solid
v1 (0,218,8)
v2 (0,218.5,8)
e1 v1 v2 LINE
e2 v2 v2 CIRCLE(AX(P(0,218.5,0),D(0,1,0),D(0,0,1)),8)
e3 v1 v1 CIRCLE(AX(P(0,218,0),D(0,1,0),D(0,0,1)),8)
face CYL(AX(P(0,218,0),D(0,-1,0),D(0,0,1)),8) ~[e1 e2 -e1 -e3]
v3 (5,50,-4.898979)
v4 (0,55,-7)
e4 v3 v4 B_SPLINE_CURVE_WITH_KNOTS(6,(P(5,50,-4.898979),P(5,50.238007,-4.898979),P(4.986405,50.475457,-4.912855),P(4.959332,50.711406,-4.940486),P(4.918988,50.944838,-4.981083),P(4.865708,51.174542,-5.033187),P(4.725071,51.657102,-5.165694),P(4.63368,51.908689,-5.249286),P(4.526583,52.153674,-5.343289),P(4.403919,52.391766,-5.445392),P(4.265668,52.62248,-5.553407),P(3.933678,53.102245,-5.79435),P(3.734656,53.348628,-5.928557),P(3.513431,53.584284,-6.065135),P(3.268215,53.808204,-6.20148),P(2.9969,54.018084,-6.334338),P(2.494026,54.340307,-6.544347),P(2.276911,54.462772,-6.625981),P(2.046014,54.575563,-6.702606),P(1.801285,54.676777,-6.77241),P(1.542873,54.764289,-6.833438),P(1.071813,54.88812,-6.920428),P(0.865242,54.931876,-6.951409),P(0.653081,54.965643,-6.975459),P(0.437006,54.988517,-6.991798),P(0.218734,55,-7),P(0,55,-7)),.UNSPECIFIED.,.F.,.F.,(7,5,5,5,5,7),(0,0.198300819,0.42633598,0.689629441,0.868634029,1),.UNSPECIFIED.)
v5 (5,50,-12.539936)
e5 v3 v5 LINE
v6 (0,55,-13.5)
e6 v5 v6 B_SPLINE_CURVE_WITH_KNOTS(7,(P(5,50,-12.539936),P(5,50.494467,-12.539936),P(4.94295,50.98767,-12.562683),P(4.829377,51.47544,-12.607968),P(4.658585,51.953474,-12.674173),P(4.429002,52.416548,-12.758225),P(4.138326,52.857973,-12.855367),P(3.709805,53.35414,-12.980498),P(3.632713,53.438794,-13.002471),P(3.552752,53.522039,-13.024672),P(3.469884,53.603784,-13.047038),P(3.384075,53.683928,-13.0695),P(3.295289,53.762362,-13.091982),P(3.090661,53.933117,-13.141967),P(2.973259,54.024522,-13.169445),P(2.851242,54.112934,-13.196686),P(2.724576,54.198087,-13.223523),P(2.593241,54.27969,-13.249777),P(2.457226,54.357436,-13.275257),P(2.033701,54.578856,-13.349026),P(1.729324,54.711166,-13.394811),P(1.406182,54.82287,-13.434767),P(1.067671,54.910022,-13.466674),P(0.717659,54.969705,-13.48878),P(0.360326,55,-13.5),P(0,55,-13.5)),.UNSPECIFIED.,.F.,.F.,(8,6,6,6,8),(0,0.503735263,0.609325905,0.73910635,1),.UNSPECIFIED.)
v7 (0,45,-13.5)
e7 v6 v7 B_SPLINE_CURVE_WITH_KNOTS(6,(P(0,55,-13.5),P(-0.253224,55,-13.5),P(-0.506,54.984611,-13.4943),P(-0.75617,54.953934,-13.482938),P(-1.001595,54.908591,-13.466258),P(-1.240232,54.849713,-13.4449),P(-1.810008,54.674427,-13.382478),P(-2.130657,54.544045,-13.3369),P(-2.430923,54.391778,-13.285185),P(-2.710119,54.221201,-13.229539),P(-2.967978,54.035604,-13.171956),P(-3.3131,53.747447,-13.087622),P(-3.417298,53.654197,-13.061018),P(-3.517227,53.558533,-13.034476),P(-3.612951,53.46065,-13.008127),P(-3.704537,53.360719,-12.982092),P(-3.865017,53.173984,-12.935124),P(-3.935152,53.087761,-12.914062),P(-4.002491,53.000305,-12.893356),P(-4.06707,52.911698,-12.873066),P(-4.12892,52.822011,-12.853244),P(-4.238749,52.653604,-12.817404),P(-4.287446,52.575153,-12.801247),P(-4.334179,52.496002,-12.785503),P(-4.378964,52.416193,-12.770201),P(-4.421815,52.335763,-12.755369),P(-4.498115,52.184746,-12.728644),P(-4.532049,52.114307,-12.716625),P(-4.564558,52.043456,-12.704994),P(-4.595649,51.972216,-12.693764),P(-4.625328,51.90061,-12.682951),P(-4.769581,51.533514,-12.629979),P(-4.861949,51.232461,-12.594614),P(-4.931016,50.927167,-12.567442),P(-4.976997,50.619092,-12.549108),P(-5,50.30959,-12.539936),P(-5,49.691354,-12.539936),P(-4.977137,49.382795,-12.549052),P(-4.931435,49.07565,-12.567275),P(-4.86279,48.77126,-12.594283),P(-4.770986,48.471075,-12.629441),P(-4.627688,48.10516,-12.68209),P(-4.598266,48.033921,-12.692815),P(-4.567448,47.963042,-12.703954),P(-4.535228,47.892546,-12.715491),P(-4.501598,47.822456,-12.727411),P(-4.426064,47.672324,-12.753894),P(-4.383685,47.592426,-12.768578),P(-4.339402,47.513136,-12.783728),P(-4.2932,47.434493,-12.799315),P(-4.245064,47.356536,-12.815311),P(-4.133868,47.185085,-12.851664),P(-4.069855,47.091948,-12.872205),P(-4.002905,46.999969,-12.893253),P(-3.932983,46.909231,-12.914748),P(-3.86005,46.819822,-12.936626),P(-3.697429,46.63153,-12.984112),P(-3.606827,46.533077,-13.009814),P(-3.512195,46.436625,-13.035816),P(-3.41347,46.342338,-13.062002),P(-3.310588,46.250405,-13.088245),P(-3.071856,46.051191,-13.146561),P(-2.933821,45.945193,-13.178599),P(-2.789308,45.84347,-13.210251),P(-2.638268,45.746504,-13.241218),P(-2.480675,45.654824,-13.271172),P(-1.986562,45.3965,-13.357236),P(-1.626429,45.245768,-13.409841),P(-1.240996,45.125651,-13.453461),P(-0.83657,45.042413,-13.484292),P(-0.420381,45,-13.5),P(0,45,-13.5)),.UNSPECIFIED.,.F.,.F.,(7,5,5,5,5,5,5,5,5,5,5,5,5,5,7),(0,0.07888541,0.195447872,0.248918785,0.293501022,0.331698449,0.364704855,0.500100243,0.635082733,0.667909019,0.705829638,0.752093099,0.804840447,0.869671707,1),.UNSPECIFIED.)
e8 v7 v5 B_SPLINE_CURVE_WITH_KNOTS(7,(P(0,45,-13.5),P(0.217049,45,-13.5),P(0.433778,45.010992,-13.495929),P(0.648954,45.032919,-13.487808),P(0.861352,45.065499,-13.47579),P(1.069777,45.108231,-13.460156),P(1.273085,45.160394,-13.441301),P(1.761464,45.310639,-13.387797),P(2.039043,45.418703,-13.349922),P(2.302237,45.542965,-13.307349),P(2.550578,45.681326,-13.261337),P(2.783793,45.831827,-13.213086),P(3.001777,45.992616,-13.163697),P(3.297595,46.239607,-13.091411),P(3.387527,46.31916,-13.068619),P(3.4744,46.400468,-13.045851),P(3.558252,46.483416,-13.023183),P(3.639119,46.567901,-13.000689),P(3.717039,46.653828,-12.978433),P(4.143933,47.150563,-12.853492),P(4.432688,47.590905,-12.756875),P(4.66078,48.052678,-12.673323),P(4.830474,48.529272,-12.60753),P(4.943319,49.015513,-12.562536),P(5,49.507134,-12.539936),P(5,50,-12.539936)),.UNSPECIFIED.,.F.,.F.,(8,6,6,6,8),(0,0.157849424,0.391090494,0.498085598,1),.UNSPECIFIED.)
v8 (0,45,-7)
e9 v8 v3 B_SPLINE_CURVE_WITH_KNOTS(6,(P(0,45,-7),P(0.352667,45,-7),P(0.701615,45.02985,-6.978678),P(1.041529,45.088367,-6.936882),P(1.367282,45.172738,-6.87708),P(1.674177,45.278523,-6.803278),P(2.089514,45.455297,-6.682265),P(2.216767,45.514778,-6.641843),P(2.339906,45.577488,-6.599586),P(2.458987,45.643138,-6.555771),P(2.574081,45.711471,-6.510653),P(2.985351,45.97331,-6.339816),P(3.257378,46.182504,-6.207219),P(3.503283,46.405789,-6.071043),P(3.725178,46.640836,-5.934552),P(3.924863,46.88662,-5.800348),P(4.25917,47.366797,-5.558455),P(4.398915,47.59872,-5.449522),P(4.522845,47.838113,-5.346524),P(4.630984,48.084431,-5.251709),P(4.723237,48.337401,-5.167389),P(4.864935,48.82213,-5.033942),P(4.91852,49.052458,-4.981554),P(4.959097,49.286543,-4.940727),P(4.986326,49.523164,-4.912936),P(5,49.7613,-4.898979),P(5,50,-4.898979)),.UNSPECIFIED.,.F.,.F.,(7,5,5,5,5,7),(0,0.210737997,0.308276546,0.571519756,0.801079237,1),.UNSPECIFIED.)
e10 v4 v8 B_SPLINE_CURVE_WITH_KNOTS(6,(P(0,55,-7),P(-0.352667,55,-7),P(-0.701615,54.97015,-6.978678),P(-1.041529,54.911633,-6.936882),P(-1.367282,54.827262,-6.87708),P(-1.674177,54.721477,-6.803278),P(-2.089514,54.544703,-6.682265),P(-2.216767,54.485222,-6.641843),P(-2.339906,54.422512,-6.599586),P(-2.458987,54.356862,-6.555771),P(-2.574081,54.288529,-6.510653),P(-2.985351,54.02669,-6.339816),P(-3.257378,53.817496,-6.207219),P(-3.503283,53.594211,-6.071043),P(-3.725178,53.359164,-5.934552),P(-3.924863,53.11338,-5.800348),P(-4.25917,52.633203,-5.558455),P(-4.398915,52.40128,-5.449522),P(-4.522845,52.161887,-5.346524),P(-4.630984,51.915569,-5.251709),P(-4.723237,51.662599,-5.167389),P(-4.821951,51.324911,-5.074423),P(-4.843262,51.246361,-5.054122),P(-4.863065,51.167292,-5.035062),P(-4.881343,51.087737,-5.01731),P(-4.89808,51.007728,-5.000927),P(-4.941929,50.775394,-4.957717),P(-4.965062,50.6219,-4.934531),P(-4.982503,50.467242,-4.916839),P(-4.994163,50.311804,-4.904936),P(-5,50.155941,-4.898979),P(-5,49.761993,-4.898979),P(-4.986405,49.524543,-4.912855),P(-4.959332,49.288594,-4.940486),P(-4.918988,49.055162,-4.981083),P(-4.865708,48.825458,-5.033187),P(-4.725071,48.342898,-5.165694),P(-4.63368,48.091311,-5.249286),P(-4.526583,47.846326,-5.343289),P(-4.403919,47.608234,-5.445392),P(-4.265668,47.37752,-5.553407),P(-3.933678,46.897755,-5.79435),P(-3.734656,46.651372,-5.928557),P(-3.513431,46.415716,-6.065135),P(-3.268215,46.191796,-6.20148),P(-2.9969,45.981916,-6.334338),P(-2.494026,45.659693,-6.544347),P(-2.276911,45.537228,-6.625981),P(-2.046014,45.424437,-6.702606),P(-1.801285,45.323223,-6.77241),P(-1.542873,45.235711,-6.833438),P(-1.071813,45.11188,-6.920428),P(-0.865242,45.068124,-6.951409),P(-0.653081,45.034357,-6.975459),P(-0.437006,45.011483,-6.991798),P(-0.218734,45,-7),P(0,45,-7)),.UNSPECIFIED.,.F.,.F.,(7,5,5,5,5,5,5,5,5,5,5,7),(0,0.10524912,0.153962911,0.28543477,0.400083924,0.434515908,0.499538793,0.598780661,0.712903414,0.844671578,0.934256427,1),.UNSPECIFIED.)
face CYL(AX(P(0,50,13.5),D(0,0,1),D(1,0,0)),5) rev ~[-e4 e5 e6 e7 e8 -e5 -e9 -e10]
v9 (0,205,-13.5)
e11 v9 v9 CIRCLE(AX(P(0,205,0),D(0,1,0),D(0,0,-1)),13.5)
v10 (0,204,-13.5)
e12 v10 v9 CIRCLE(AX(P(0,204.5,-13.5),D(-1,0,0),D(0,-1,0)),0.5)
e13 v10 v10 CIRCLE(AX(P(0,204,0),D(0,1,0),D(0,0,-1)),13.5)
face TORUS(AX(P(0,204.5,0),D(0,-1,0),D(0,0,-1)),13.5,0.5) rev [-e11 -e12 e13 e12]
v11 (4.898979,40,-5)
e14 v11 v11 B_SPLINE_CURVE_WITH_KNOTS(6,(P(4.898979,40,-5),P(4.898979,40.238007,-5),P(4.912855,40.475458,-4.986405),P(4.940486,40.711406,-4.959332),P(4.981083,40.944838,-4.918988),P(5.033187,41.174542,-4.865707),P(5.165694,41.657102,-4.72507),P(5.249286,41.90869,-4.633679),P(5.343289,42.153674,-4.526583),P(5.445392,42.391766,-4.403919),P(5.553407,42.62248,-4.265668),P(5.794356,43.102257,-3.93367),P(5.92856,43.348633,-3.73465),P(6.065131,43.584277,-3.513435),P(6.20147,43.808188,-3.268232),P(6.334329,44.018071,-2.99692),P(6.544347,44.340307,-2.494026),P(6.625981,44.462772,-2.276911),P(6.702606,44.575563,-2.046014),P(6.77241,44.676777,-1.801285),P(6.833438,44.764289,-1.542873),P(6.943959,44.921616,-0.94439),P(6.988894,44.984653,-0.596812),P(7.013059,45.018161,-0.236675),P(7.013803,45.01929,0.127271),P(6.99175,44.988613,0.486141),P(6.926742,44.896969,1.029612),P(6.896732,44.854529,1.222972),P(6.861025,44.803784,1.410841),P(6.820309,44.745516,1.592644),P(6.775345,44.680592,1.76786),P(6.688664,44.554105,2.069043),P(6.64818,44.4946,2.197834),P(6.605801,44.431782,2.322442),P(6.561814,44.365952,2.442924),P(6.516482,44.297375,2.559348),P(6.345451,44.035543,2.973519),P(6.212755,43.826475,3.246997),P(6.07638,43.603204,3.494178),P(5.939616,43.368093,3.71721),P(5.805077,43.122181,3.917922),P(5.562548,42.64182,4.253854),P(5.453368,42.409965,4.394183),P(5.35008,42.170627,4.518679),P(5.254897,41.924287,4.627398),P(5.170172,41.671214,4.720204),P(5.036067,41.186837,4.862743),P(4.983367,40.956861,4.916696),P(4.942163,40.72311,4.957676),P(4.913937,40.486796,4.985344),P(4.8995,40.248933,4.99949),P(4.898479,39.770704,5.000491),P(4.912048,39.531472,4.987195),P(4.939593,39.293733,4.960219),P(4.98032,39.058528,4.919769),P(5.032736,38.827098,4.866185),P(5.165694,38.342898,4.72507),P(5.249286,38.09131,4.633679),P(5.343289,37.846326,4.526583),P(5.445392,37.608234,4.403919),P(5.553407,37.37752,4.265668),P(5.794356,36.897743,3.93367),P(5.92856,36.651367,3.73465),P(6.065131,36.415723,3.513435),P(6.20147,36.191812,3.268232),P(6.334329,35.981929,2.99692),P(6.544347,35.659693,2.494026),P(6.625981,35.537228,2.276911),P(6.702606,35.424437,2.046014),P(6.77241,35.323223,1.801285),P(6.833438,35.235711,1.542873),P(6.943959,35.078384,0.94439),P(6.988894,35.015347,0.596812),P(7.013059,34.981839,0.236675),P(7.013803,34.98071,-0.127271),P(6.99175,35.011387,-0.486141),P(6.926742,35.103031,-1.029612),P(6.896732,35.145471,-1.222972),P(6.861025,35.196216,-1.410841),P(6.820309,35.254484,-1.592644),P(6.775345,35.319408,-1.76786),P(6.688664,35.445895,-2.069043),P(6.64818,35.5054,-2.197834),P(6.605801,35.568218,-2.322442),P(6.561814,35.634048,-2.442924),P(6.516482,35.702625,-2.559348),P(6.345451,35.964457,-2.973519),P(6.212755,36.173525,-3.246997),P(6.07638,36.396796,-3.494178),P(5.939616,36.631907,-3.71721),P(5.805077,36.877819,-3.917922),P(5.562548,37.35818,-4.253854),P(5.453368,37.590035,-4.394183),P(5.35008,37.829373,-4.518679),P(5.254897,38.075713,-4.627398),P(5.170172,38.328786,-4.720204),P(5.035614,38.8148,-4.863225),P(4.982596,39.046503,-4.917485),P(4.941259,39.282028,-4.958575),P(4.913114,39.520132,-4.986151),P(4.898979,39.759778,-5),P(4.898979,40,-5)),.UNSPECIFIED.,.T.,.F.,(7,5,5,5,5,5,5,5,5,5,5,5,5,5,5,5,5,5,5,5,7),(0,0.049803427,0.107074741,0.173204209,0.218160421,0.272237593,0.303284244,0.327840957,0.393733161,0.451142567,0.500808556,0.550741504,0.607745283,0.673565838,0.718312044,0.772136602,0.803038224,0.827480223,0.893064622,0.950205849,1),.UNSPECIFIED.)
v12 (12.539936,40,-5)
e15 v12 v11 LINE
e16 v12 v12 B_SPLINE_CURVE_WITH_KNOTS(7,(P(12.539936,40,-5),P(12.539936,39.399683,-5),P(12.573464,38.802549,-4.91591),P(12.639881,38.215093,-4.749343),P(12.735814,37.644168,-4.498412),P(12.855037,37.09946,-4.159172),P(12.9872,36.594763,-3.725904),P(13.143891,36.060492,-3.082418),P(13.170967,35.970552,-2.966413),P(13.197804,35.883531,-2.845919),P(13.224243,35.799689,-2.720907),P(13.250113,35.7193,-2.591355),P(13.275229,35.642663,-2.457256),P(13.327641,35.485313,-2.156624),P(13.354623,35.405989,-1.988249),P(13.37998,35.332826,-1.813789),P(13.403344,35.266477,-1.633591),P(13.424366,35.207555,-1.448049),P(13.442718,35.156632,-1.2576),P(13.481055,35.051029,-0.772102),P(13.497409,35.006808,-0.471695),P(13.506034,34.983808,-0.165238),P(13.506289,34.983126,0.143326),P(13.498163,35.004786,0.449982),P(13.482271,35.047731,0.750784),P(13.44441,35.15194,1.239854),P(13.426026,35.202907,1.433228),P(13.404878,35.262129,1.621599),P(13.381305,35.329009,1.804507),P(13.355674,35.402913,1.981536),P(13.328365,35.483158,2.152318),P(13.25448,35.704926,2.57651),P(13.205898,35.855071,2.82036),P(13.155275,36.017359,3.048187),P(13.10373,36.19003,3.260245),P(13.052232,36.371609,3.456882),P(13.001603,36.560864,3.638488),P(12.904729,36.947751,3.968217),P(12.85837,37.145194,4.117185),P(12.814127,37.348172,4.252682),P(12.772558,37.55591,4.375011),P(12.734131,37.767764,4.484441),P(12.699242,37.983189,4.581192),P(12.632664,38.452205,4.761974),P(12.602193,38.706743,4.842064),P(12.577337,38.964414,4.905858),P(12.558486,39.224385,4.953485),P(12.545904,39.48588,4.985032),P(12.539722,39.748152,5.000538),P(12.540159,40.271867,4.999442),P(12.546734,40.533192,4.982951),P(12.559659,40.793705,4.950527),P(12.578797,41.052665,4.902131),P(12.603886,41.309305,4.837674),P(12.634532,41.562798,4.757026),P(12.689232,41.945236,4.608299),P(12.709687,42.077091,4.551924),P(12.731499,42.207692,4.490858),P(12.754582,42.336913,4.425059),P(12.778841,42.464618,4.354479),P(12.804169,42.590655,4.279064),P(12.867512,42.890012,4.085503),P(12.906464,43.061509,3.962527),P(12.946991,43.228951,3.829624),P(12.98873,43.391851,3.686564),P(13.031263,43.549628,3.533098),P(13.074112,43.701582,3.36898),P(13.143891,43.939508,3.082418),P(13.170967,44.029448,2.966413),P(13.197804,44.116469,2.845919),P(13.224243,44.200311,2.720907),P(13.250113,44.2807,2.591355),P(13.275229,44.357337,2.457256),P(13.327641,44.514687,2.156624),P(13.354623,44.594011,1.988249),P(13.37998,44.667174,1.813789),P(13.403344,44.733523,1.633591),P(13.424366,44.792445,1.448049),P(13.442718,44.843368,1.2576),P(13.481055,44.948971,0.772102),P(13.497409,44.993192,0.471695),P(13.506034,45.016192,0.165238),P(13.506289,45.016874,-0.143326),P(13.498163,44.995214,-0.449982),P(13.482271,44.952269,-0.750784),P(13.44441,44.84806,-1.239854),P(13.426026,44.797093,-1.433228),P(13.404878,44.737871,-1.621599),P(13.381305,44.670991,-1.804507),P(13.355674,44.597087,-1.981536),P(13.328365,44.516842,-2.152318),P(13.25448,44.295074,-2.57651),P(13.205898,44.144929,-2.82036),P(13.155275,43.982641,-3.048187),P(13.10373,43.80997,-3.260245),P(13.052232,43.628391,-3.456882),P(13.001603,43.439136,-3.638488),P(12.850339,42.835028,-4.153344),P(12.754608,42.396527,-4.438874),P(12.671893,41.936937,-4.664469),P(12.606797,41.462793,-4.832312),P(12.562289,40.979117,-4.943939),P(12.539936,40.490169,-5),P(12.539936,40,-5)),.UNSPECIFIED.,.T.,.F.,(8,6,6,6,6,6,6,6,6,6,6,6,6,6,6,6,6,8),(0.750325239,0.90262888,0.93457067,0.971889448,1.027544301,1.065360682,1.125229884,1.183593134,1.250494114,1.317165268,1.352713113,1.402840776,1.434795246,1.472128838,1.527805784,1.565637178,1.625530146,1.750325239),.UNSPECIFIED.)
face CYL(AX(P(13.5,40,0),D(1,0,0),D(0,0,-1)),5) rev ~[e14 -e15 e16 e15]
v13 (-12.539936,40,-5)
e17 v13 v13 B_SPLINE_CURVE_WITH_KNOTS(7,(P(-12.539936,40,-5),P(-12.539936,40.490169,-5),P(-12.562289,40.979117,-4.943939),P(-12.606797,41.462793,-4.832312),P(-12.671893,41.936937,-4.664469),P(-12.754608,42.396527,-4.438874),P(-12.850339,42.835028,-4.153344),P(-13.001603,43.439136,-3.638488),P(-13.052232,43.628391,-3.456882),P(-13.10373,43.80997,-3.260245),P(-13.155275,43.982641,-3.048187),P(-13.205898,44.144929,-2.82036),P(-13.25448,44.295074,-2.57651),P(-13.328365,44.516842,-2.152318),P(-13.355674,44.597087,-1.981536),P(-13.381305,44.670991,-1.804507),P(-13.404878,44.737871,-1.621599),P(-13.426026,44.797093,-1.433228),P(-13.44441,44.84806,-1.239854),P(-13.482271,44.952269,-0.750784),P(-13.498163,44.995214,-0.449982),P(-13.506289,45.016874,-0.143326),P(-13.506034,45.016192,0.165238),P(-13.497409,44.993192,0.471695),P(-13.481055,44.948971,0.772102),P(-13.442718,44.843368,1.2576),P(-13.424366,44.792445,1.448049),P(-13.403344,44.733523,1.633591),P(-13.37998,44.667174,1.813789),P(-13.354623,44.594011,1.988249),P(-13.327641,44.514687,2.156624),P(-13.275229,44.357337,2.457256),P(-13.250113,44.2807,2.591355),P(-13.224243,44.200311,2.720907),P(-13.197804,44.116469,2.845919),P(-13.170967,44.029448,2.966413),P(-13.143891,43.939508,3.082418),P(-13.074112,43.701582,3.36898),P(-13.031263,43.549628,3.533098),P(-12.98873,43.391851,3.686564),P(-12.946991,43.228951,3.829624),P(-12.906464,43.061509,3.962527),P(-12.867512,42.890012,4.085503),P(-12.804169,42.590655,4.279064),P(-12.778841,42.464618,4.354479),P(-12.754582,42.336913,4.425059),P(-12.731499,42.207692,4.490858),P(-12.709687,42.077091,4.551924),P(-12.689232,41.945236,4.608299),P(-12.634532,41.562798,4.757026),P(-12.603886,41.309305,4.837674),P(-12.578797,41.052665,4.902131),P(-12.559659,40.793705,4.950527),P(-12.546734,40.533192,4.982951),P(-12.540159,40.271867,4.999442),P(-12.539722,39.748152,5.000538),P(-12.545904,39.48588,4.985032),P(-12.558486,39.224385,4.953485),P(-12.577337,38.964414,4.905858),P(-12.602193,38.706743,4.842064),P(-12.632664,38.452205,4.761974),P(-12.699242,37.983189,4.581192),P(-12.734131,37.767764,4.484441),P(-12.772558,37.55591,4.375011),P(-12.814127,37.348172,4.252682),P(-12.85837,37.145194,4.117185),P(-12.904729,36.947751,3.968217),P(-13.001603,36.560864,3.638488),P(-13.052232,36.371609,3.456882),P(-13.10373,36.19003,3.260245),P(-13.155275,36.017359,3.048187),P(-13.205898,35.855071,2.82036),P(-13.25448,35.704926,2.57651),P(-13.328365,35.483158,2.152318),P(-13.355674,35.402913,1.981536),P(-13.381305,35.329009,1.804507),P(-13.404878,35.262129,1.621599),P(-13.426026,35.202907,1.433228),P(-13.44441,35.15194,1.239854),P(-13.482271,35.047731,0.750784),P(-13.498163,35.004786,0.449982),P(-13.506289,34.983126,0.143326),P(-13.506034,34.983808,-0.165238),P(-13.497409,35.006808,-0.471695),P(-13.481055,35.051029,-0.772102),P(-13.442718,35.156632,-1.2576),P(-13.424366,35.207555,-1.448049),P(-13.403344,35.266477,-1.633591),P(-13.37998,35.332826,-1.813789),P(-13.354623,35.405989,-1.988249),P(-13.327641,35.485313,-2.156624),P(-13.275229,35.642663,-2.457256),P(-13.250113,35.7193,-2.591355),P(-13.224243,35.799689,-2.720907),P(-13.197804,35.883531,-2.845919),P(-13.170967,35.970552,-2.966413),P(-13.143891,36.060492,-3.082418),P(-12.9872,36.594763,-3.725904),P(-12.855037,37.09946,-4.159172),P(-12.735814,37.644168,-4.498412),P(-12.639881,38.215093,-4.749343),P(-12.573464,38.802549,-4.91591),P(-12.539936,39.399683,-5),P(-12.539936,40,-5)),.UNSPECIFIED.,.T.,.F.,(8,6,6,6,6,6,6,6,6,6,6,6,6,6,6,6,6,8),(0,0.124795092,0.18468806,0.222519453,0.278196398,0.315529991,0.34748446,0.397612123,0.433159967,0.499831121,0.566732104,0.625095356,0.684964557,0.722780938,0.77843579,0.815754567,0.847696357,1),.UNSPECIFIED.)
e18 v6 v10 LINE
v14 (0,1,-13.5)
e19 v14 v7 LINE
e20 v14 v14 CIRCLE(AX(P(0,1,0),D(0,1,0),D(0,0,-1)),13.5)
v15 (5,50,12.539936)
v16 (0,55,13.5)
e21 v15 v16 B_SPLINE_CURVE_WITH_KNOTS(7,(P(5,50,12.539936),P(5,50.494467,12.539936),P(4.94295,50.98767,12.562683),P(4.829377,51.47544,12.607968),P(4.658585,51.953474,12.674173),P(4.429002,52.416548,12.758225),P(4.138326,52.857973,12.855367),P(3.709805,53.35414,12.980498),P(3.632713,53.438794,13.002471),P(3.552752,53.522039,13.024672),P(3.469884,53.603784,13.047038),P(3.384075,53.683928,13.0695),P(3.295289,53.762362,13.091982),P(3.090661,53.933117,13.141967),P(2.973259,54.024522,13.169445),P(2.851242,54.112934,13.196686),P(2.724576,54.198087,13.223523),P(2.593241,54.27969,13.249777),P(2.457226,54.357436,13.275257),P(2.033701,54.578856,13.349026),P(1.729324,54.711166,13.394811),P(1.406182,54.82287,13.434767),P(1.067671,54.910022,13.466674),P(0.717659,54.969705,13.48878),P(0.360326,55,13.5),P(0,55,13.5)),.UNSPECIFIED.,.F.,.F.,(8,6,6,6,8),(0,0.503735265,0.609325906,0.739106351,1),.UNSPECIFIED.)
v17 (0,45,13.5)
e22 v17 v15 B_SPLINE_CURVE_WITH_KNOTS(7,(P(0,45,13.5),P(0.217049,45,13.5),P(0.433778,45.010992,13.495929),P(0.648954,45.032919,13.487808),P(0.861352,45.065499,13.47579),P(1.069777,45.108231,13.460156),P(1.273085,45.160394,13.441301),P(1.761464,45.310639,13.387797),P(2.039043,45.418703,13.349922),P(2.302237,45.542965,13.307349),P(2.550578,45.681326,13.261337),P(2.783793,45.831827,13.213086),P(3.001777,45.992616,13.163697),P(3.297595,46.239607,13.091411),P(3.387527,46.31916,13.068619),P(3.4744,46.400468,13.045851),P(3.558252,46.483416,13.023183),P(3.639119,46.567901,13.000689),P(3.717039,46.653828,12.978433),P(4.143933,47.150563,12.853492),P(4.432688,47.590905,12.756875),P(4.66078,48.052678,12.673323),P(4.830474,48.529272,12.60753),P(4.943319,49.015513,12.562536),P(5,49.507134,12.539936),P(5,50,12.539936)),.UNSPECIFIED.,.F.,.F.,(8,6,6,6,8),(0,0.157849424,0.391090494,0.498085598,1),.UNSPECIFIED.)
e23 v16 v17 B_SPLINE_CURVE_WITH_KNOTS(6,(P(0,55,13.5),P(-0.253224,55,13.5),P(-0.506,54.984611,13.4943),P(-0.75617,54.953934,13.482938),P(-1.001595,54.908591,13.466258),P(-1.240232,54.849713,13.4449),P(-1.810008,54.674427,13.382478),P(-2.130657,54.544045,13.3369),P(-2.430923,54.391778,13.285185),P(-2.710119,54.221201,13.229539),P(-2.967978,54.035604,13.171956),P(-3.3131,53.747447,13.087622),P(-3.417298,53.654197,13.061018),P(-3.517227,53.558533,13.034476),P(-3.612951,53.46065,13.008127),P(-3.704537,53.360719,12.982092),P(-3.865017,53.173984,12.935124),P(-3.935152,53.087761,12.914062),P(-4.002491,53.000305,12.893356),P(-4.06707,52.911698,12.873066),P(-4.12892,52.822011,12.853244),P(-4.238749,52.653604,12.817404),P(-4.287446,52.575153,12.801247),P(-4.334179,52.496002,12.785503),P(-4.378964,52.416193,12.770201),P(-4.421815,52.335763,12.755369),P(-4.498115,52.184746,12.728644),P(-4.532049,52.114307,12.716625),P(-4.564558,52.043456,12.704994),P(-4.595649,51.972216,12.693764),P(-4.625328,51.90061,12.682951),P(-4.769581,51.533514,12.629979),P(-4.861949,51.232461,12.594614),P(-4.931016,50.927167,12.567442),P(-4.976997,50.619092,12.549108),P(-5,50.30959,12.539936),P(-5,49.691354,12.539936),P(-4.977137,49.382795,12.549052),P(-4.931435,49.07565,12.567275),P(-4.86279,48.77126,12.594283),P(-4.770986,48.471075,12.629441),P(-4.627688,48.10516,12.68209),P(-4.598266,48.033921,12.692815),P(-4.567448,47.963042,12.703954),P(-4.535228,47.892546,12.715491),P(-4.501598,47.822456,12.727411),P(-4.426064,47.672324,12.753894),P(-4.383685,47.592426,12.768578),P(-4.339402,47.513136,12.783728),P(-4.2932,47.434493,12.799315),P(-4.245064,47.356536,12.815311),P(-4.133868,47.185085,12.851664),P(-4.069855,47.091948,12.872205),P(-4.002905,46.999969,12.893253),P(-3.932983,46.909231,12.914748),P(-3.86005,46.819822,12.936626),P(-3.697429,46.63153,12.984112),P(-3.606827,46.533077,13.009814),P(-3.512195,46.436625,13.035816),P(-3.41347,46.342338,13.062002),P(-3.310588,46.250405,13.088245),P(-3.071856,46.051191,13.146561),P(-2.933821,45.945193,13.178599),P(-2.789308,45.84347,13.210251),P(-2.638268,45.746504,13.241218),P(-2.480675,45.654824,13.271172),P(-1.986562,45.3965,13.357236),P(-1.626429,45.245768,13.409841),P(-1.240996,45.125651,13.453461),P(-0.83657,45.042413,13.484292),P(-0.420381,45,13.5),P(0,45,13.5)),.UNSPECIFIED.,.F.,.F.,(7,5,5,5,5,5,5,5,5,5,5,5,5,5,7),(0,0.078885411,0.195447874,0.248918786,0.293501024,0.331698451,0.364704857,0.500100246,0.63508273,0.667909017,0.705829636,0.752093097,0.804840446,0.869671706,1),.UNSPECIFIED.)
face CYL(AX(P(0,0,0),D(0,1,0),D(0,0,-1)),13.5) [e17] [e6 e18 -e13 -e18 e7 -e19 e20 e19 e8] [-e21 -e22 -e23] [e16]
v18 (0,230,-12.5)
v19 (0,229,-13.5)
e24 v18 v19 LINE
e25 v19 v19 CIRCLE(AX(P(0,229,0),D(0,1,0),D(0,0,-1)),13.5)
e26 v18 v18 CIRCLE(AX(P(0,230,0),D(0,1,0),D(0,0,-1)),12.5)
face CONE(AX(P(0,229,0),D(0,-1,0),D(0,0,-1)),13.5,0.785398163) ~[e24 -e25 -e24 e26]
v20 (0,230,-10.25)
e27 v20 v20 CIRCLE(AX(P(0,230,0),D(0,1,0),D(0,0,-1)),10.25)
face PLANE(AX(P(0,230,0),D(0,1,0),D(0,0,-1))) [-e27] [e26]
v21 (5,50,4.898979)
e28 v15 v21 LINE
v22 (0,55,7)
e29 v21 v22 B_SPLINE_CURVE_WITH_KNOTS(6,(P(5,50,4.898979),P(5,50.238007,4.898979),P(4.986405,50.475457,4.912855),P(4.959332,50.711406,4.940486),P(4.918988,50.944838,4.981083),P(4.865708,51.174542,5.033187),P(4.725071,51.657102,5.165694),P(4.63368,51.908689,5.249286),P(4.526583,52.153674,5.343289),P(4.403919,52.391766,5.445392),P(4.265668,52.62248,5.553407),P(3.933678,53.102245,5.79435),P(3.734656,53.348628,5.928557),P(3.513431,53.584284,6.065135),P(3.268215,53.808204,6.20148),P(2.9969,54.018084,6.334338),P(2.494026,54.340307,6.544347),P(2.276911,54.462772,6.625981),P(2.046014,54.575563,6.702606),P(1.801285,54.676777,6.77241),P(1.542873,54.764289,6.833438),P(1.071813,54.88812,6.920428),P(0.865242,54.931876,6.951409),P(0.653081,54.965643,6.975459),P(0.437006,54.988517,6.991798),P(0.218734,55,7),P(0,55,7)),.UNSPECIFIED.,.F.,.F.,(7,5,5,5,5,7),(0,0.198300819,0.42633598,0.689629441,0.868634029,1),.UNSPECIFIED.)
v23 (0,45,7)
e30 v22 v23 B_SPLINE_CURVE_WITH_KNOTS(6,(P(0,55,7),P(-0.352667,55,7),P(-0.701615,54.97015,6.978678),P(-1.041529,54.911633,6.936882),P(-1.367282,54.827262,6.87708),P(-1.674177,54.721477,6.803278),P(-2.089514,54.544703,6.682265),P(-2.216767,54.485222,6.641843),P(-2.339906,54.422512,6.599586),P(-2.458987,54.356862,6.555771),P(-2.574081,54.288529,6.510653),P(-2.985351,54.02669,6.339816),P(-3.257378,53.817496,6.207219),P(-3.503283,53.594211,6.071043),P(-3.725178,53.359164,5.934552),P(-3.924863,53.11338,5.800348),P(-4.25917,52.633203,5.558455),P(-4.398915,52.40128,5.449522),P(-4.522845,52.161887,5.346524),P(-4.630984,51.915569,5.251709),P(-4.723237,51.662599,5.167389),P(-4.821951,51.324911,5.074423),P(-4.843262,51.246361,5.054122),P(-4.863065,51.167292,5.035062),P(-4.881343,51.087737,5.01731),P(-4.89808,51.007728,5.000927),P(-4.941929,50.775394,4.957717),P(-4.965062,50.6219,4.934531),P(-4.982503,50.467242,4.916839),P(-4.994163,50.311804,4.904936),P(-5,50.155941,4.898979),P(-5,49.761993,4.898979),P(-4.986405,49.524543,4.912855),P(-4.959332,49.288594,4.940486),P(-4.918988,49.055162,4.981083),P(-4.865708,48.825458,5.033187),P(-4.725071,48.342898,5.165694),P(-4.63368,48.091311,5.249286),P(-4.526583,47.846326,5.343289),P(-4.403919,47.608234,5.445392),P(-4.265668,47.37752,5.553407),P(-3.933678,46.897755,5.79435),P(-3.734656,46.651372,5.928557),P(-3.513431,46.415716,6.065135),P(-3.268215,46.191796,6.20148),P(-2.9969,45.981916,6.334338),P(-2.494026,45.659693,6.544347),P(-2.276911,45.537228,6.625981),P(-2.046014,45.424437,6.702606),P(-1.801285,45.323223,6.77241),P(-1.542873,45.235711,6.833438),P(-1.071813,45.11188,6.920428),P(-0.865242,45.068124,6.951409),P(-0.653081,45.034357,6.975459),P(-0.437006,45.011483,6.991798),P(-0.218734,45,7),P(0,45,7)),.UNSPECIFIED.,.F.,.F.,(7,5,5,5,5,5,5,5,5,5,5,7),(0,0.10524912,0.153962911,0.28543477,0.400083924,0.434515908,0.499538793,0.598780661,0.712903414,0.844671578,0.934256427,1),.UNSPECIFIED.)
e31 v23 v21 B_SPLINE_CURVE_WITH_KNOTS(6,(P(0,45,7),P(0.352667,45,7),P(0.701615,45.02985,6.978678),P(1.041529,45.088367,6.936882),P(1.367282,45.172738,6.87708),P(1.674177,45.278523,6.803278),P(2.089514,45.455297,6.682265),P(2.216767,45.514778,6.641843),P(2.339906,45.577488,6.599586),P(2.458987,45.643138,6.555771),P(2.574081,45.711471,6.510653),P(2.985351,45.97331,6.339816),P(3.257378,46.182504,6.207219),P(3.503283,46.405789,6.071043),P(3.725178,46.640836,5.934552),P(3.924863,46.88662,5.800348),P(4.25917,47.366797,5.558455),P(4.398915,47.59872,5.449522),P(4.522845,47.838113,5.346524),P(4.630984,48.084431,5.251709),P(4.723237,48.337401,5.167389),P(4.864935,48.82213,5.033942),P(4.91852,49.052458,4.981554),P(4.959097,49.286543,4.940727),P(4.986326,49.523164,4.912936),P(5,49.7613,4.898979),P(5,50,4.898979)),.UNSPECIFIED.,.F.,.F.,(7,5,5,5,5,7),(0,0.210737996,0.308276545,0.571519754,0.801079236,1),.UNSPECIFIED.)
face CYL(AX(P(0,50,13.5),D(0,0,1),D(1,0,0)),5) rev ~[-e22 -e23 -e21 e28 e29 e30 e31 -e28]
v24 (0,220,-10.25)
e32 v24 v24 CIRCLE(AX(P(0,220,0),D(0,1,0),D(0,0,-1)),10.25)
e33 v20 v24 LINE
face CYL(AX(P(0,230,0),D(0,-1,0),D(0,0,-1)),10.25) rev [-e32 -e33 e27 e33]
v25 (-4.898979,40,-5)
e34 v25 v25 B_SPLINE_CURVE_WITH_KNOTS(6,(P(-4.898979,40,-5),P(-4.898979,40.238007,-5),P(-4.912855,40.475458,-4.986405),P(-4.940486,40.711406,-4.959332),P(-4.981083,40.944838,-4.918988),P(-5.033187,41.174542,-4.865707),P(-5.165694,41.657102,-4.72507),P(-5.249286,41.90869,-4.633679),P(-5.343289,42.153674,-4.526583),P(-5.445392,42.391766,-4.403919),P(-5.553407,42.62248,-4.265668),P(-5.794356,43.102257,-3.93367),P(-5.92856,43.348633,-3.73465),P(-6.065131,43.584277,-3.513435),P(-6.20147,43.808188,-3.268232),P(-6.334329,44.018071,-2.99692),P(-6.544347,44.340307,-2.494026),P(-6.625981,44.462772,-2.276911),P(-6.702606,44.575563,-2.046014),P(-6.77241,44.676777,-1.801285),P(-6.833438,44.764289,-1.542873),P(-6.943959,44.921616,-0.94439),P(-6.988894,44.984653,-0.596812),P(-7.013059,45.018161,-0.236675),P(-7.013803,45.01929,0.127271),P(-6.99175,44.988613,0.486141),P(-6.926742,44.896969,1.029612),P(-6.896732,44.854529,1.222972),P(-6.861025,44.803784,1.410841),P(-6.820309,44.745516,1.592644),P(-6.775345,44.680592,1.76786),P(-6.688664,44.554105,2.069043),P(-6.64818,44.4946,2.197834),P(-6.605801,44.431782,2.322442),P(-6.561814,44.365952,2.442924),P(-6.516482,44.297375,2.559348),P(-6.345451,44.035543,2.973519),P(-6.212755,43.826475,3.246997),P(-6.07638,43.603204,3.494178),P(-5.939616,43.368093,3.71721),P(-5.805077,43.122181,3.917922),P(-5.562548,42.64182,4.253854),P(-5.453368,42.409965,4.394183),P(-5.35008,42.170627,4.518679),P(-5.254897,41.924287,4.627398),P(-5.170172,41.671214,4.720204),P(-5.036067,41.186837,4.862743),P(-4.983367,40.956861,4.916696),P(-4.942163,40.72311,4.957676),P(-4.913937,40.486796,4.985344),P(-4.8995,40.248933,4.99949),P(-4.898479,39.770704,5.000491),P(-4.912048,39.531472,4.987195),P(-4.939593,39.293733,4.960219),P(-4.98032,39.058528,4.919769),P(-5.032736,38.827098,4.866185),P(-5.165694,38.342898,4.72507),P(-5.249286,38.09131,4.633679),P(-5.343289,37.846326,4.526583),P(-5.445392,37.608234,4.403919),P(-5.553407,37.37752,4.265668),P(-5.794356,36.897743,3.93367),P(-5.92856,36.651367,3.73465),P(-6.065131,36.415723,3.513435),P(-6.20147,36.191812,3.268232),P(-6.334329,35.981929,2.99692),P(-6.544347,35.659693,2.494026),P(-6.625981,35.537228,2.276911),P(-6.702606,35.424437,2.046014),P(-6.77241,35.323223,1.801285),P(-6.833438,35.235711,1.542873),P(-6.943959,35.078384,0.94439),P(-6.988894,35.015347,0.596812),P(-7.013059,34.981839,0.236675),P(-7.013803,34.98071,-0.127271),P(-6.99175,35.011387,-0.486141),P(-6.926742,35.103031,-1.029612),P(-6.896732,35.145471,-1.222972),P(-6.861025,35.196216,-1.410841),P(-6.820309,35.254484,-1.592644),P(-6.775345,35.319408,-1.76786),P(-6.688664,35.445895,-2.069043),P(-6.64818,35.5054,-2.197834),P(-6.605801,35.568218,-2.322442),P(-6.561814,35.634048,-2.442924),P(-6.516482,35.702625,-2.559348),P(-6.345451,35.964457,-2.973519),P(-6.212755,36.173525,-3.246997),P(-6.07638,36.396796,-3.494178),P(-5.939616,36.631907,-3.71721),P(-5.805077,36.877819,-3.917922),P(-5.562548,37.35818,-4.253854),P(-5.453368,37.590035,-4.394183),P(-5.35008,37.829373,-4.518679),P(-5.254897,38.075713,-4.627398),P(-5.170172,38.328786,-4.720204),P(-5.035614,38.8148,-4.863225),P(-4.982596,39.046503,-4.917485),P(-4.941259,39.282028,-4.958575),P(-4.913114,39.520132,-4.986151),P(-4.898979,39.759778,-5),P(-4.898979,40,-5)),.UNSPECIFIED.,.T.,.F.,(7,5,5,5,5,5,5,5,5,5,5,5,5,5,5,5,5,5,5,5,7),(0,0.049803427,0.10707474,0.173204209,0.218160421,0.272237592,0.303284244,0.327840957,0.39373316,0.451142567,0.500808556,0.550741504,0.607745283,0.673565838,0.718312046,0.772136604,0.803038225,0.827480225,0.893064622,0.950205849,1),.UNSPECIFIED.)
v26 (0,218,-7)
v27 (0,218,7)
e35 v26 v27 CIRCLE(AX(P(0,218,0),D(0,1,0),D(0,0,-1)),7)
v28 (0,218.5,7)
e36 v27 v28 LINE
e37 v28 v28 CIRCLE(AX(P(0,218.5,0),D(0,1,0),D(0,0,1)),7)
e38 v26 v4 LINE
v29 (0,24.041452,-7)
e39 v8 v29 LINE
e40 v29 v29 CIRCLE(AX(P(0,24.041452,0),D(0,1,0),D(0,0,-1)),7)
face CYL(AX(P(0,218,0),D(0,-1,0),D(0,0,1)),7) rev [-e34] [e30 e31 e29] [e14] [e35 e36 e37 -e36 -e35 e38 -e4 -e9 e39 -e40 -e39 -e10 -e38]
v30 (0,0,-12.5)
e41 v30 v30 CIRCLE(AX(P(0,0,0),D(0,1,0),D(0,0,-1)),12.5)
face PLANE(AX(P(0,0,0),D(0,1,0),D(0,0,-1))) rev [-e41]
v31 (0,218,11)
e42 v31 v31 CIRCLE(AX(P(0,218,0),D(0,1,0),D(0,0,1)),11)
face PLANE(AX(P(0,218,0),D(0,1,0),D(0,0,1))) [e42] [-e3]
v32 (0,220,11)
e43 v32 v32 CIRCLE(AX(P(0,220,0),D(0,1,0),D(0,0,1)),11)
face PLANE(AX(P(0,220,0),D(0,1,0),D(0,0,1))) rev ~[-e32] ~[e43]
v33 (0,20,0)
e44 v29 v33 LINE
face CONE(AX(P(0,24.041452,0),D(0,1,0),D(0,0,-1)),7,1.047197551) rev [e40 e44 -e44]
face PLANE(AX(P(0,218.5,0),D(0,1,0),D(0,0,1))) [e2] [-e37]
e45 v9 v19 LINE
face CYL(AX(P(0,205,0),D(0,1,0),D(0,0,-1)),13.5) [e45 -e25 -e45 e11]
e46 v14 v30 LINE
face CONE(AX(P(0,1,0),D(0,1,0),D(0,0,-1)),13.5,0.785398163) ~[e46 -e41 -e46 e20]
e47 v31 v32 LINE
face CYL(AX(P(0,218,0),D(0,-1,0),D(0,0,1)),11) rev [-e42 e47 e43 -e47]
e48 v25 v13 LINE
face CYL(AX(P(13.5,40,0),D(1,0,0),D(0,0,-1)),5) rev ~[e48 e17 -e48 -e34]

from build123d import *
from build123d.topology import SkipClean

# Parameters (mm, degrees)
SKETCH_5_R          = 8
SKETCH_5_R_2        = 7
EXTRUDE_1_DEPTH     = 0.5
CHAMFER_2_SIZE      = 1
SKETCH_6_R          = 11
SKETCH_6_R_2        = 10.25
CUT_EXTRUDE_2_DEPTH = 2
CHAMFER_3_SIZE      = 1
SKETCH_9_R          = 5
CUT_EXTRUDE_3_DEPTH = 232.972519924
SKETCH_10_R         = 5
CUT_EXTRUDE_4_DEPTH = 232.972519942


with BuildPart() as part:
    # Эскиз1 → Повернуть1 (revolve)
    with BuildSketch(Plane.XY, mode=Mode.PRIVATE) as revolve_1_sk:
        with BuildLine():
            Line((13.5, 0), (13.5, 204))
            ThreePointArc((13.5, 204), (13, 204.5), (13.5, 205))
            Line((13.5, 205), (13.5, 230))
            Line((13.5, 230), (10.25, 230))
            Line((10.25, 230), (10.25, 218))
            Line((10.25, 218), (7, 218))
            Line((7, 218), (7, 24.041451884))
            Line((7, 24.041451884), (0, 20))
            Line((0, 20), (0, 0))
            Line((0, 0), (13.5, 0))
        make_face()
    revolve(revolve_1_sk.sketch.rotate(Axis((0, 0, 0), (0, 1, 0)), 90), axis=Axis((0, 0, 0), (0, 1, 0)))

    # Эскиз5 → Вытянуть1 (add)
    with BuildSketch(Plane(origin=(0, 218, 0), x_dir=(1, 0, 0), z_dir=(0, 1, 0))):
        with Locations(Location((0, 0, 0), (0, 0, 270))):
            Circle(SKETCH_5_R)
        with Locations(Location((0, 0, 0), (0, 0, 270))):
            Circle(SKETCH_5_R_2, mode=Mode.SUBTRACT)
    extrude(amount=EXTRUDE_1_DEPTH)

    # Фаска2
    chamfer_2_edges = [part.edges().sort_by_distance(p)[0] for p in [
        (0, 230, 13.5),
    ]]
    chamfer(chamfer_2_edges, length=CHAMFER_2_SIZE)

    # Эскиз6 → Вытянуть2 (cut)
    with BuildSketch(Plane(origin=(0, 218, 0), x_dir=(1, 0, 0), z_dir=(0, 1, 0))):
        with Locations(Location((0, 0, 0), (0, 0, 270))):
            Circle(SKETCH_6_R)
        with Locations(Location((0, 0, 0), (0, 0, 90))):
            Circle(SKETCH_6_R_2, mode=Mode.SUBTRACT)
    extrude(amount=CUT_EXTRUDE_2_DEPTH, mode=Mode.SUBTRACT)

    # Фаска3
    chamfer_3_edges = [part.edges().sort_by_distance(p)[0] for p in [
        (0, 0, 13.5),
    ]]
    chamfer(chamfer_3_edges, length=CHAMFER_3_SIZE)

    # Эскиз9 → Вытянуть3 (cut, through all)
    with BuildSketch(Plane(origin=(13.5, 0, 0), x_dir=(0, 0, -1), z_dir=(1, 0, 0))):
        with Locations((0, 40)):
            Circle(SKETCH_9_R)
    extrude(amount=-CUT_EXTRUDE_3_DEPTH, mode=Mode.SUBTRACT)

    # Эскиз10 → Вытянуть4 (cut, through all)
    with SkipClean():  # the faces are left unmerged after this step: merging them gives an invalid solid
        with BuildSketch(Plane.XY.offset(13.5)):
            with Locations((0, 50)):
                Circle(SKETCH_10_R)
        extrude(amount=-CUT_EXTRUDE_4_DEPTH, mode=Mode.SUBTRACT)


solid = part.part
